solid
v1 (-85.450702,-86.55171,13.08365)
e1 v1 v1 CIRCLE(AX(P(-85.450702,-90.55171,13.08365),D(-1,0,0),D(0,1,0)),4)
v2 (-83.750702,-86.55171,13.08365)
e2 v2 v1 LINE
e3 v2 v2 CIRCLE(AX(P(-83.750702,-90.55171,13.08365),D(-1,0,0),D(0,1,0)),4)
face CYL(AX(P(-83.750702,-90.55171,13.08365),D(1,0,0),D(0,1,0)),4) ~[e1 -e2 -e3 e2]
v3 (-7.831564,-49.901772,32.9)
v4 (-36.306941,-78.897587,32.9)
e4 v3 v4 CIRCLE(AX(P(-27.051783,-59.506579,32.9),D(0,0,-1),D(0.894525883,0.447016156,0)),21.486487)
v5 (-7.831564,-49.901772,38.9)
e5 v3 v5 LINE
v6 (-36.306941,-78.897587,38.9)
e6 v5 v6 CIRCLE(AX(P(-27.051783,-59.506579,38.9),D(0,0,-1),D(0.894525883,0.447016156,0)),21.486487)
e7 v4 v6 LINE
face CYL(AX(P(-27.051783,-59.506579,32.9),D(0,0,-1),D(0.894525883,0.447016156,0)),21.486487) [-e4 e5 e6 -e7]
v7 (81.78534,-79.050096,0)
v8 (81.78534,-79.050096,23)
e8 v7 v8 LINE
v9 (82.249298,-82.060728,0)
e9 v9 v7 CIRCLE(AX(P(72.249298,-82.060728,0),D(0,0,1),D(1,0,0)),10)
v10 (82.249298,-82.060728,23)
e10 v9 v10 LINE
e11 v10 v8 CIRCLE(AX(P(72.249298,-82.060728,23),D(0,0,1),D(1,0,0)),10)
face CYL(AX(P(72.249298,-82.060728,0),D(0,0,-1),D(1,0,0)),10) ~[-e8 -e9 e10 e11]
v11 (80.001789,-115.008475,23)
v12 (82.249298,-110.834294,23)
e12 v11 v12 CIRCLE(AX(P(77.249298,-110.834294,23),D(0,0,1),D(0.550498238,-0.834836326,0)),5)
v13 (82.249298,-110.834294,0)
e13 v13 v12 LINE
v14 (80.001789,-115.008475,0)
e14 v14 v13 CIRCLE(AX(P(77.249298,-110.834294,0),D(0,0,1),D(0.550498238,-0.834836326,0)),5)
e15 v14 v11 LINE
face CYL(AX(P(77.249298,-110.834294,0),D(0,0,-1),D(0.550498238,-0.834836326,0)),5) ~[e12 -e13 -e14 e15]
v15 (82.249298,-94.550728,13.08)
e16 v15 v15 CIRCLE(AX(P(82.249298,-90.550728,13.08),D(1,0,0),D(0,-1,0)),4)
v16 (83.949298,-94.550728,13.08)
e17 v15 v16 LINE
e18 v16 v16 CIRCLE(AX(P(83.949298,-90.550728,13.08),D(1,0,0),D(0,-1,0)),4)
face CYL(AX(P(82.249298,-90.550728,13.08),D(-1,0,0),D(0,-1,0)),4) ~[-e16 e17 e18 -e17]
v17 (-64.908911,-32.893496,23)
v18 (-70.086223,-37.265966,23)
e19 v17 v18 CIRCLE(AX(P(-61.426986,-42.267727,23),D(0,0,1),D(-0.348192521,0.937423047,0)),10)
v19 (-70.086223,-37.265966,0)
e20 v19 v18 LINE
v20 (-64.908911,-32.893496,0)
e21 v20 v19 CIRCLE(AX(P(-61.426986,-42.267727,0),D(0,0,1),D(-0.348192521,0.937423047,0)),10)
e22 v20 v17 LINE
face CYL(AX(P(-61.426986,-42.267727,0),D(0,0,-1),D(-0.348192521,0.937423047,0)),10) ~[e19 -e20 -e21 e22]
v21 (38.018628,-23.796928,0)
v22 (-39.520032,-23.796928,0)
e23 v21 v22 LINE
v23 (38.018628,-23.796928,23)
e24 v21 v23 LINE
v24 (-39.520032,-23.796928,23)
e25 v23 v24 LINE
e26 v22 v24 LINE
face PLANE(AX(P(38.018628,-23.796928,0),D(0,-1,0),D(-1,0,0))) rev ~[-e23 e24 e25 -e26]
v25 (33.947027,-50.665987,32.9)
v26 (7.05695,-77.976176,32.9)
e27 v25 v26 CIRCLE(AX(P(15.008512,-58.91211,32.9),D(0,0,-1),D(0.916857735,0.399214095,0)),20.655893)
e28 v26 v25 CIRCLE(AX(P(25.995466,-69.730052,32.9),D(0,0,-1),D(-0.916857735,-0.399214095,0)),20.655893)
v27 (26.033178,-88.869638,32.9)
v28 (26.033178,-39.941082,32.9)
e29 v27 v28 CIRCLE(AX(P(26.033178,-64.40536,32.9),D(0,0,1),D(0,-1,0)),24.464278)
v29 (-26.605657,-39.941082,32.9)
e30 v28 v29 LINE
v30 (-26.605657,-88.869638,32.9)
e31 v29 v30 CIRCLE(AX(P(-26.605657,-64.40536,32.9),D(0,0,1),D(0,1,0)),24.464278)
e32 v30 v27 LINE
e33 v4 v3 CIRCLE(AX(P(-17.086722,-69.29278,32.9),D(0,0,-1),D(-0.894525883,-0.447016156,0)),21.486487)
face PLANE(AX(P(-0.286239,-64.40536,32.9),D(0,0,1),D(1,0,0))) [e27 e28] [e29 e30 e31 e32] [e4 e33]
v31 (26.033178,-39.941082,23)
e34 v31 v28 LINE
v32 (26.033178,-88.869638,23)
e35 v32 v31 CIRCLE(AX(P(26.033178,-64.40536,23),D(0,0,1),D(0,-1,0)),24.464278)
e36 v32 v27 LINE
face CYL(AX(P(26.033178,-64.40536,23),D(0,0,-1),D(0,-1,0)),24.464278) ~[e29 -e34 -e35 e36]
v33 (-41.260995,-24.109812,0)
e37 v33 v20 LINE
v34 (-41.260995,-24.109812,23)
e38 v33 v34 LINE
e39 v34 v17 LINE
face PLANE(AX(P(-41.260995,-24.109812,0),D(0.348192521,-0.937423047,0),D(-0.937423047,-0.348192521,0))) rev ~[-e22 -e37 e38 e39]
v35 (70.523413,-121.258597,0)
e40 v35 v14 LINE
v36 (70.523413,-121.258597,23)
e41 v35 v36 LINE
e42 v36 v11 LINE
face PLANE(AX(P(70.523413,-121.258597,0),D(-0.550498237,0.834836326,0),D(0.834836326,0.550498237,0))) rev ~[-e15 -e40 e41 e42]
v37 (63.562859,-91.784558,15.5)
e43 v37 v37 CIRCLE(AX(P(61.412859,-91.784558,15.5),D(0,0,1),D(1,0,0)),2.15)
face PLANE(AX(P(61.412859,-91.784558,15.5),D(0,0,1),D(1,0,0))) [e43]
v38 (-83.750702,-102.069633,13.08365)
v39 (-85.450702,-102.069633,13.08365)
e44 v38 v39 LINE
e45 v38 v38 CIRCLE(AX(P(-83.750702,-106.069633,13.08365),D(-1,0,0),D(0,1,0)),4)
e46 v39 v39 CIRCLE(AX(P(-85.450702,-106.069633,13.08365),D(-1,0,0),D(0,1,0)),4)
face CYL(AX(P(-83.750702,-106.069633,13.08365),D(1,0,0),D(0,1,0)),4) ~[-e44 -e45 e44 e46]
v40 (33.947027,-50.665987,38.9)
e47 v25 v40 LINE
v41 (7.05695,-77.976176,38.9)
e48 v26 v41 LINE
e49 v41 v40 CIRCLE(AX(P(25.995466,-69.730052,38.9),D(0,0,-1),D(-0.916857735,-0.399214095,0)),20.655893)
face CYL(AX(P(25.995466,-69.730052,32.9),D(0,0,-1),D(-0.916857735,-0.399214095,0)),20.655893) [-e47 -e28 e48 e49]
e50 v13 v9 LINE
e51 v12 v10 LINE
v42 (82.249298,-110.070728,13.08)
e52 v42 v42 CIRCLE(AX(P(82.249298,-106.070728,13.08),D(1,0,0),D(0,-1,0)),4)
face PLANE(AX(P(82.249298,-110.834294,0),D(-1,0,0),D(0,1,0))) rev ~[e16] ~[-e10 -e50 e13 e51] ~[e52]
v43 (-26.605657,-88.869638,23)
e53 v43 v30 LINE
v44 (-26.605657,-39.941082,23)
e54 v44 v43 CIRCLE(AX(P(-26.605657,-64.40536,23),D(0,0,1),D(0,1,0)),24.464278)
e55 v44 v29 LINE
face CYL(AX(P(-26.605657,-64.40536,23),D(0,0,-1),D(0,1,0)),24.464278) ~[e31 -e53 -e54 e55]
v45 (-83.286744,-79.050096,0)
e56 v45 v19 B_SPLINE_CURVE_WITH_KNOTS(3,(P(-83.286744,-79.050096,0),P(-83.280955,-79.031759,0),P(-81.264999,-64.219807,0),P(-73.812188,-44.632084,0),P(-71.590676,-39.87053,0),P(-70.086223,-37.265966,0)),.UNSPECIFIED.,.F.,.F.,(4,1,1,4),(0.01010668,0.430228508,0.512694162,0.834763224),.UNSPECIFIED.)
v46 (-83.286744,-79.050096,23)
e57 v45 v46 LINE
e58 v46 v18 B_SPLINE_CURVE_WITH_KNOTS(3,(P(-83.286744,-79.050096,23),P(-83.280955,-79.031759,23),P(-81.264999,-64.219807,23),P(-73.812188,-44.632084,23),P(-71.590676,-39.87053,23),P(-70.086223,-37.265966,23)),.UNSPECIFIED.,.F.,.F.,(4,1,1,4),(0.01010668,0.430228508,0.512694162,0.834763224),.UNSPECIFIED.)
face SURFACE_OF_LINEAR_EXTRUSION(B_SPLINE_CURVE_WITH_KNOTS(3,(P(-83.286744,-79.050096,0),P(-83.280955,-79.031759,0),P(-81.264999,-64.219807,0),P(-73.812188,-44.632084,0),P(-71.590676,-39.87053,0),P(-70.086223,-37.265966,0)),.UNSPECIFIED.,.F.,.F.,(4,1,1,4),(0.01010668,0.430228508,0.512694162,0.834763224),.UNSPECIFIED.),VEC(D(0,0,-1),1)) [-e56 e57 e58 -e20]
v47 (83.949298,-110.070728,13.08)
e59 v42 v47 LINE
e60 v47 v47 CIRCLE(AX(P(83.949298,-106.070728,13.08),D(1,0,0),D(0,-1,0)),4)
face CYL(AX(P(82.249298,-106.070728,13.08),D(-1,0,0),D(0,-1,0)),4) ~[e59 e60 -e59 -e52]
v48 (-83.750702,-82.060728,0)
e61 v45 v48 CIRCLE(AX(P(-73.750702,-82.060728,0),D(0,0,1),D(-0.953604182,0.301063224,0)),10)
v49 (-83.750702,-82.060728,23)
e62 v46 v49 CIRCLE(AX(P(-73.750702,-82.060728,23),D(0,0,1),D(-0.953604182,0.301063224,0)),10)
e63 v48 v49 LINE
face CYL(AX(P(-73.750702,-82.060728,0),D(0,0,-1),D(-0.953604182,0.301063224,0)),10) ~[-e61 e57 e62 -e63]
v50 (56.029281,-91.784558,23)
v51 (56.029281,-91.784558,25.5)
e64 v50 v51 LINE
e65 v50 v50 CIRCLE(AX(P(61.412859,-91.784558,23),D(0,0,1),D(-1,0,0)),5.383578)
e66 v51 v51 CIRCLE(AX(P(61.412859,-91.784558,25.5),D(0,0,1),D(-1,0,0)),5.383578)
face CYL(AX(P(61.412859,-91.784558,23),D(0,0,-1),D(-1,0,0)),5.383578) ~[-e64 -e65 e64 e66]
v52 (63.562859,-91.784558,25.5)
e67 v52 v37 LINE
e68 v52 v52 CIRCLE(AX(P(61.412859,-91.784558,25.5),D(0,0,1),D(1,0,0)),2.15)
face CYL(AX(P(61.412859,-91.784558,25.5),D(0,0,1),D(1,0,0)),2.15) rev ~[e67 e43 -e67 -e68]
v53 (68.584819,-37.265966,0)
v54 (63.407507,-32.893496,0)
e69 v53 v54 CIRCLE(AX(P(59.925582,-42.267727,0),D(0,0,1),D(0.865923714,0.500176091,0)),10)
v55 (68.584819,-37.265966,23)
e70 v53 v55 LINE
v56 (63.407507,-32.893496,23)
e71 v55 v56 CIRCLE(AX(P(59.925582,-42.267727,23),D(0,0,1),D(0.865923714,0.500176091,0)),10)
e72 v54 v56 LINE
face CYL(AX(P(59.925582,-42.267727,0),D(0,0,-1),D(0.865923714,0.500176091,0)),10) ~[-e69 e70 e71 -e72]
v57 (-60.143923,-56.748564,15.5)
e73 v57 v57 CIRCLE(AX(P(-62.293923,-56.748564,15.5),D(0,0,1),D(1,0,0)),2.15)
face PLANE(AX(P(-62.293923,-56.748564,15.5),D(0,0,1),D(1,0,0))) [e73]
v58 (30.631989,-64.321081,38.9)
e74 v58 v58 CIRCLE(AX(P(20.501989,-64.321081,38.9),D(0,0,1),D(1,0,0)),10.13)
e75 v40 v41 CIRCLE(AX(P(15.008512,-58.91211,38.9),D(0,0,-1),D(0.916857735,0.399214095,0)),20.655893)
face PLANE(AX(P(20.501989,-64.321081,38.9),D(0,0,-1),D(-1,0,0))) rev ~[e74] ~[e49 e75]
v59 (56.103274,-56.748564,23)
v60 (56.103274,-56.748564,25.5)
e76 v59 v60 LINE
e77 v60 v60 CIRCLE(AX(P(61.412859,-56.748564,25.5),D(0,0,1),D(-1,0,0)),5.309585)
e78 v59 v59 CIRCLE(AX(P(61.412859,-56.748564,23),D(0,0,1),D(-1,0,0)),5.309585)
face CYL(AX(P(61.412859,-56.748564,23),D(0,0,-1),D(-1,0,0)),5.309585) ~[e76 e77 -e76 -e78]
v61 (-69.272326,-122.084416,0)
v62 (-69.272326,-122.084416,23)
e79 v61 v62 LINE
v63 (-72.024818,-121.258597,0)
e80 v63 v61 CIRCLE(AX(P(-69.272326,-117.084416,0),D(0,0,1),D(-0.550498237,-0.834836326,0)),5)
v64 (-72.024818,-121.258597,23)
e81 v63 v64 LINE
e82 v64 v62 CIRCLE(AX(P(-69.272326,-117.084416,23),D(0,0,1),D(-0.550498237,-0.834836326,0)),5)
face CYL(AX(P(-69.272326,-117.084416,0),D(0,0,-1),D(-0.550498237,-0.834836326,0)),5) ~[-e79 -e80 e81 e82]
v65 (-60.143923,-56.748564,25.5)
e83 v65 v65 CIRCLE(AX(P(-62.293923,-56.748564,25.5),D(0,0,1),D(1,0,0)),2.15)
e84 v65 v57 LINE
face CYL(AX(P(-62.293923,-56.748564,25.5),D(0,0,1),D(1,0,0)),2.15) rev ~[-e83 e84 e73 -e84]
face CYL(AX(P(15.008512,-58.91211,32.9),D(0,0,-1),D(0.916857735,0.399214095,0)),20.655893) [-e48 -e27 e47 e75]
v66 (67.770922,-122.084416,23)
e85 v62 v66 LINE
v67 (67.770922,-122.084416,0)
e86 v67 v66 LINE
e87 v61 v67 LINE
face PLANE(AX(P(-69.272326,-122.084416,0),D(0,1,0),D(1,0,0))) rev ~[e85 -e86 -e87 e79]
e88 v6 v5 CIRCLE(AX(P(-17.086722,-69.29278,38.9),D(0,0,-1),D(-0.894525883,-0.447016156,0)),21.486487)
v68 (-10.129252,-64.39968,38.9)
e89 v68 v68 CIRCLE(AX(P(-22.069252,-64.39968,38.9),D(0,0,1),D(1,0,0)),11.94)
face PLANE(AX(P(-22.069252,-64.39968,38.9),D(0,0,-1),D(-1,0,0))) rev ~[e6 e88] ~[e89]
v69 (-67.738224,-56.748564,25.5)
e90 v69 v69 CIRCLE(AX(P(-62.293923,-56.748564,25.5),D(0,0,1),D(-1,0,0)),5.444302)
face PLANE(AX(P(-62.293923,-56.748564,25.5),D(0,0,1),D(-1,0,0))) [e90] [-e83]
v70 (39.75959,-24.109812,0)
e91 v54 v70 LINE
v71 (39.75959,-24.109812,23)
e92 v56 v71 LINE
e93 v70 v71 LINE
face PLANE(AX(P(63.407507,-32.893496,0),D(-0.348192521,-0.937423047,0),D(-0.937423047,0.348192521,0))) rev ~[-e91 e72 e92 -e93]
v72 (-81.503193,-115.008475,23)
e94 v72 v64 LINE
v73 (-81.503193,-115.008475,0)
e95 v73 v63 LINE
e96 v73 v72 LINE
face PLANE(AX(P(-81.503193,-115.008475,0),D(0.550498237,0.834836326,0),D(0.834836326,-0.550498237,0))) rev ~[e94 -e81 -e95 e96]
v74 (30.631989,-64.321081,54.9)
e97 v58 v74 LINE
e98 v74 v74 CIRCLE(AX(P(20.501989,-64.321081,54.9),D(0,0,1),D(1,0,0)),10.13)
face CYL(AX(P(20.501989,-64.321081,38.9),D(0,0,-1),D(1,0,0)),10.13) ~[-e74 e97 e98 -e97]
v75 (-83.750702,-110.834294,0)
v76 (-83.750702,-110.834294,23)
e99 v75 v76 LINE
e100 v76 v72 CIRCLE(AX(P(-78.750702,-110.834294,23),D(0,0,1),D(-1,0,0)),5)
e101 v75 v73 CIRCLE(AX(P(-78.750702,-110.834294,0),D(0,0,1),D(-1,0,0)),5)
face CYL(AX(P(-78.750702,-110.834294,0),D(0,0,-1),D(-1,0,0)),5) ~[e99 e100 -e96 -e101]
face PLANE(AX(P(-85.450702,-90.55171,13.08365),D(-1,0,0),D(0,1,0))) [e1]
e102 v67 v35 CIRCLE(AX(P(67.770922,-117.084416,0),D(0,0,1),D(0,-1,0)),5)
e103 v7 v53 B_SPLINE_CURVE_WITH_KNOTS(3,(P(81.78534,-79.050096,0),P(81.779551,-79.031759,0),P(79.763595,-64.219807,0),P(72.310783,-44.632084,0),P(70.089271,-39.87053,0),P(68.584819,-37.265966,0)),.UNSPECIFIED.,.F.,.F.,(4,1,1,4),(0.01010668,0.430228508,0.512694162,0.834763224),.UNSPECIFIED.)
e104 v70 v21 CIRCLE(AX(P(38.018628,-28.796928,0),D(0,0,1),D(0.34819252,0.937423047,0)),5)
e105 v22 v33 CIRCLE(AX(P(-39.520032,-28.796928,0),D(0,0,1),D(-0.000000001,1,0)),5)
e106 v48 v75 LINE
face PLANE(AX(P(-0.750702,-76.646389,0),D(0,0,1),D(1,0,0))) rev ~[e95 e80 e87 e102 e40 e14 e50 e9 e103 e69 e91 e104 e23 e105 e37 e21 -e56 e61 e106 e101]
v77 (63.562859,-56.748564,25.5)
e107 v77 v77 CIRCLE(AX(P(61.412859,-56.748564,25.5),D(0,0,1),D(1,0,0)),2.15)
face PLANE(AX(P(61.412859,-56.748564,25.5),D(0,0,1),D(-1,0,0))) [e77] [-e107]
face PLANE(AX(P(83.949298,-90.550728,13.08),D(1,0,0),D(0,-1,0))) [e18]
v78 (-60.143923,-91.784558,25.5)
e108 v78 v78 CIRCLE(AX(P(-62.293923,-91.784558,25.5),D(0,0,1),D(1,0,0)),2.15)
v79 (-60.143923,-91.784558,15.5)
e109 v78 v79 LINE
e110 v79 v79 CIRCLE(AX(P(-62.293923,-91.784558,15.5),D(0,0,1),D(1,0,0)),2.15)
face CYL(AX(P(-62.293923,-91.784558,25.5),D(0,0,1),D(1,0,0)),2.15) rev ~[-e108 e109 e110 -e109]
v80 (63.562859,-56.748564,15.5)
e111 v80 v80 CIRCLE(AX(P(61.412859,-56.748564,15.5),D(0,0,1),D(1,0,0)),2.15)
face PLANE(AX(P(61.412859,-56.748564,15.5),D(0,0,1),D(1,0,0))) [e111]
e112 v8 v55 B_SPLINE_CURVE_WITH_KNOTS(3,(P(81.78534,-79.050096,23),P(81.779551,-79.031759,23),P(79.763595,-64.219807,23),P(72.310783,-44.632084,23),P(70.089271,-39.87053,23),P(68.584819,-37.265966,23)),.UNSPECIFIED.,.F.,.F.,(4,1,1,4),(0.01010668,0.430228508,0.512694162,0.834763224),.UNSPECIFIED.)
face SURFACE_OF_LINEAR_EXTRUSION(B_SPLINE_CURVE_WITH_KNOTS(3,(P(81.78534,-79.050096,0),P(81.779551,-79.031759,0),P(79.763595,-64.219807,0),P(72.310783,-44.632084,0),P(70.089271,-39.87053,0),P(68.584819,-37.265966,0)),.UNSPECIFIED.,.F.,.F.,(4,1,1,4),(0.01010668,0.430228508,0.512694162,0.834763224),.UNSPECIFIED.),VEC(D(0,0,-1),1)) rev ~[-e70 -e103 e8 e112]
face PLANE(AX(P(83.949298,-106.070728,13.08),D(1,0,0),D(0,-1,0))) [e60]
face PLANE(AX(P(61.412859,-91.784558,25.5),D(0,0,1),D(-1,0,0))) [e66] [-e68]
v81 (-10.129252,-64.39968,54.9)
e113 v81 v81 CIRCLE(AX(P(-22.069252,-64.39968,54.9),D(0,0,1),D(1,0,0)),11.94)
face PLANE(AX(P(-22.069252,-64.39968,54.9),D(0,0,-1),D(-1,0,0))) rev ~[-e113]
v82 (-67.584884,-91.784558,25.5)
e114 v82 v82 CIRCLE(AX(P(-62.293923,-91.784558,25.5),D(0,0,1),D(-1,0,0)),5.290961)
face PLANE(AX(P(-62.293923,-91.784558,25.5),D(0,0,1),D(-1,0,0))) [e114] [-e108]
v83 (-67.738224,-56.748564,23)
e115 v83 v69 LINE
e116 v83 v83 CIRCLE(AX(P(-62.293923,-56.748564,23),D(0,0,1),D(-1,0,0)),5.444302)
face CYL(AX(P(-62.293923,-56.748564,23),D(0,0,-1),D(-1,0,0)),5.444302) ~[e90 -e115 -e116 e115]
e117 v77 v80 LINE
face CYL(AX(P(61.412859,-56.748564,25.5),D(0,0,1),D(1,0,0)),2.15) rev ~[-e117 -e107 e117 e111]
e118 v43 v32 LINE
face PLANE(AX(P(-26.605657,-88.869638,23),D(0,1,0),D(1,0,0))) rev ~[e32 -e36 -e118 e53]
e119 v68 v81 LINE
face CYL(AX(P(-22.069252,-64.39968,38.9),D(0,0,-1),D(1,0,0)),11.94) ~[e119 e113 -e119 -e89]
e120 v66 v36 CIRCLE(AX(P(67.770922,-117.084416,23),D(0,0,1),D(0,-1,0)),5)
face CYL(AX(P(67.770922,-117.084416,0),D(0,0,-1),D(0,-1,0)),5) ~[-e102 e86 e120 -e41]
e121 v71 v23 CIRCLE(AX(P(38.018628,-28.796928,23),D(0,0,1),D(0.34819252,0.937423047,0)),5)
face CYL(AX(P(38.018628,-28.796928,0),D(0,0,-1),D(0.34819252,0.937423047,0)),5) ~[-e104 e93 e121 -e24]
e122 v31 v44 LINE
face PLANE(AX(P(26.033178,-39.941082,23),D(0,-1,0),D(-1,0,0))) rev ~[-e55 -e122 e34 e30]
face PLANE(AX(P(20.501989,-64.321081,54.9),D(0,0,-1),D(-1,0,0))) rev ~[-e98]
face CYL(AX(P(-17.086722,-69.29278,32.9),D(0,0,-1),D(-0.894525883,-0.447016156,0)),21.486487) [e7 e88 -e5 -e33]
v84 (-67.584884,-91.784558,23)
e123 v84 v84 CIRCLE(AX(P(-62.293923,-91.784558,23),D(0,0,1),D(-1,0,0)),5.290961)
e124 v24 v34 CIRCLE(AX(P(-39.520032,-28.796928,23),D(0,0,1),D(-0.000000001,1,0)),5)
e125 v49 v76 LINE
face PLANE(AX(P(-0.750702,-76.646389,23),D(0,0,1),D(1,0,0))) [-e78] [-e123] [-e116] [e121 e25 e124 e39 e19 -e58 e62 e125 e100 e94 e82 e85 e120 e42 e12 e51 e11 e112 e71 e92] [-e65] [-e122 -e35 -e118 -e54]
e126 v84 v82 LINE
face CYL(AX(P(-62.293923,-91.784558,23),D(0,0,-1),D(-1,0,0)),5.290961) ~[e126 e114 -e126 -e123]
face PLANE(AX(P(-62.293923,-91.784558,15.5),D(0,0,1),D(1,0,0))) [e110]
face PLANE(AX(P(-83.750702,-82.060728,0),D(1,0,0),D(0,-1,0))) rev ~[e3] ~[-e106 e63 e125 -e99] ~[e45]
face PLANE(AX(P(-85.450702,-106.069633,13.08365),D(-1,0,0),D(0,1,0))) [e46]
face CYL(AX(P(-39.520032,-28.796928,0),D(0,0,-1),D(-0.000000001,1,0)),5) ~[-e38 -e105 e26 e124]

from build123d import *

# Parameters (mm, degrees)
BOSS_EXTRUDE1_DEPTH = 23
SKETCH5_R           = 4
BOSS_EXTRUDE3_DEPTH = 1.7
SKETCH8_R           = 4
BOSS_EXTRUDE4_DEPTH = 1.7
SKETCH12_R          = 5.309585237
SKETCH12_R_2        = 5.383577716
SKETCH12_R_3        = 5.290961271
SKETCH12_R_4        = 5.444301549
BOSS_EXTRUDE5_DEPTH = 9.9
BOSS_EXTRUDE6_DEPTH = 22
CUT_EXTRUDE1_START  = -16
SKETCH16_R          = 11.94
CUT_EXTRUDE1_DEPTH  = 16
CUT_EXTRUDE2_START  = -16
SKETCH17_R          = 10.13
CUT_EXTRUDE2_DEPTH  = 16
CUT_EXTRUDE3_START  = -7.4
SKETCH18_R          = 5.309585237
CUT_EXTRUDE3_DEPTH  = 7.4
CUT_EXTRUDE4_START  = -7.4
SKETCH19_R          = 5.383577716
CUT_EXTRUDE4_DEPTH  = 7.4
CUT_EXTRUDE5_START  = -7.4
SKETCH20_R          = 5.444301549
CUT_EXTRUDE5_DEPTH  = 7.4
CUT_EXTRUDE6_START  = -7.4
SKETCH21_R          = 5.290961271
CUT_EXTRUDE6_DEPTH  = 7.4
SKETCH22_R          = 2.15
CUT_EXTRUDE7_DEPTH  = 10


with BuildPart() as part:
    # Sketch2 → Boss-Extrude1 (new body)
    with BuildSketch(Plane.XY):
        with BuildLine():
            Line((70.523413182, -121.258597495), (80.001788964, -115.008475165))
            ThreePointArc((80.001788964, -115.008475165), (81.651709385, -113.204688447), (82.249297777, -110.834293536))
            Line((82.249297777, -110.834293536), (82.249297777, -82.060728072))
            ThreePointArc((82.249297777, -82.060728072), (82.132627635, -80.537642087), (81.785339594, -79.050095835))
            add(Edge.make_bspline(
                [(81.785339594, -79.050095835), (81.779550585, -79.03175941), (79.763594577, -64.21980724), (72.310783114, -44.632084365), (70.089271073, -39.87053002), (68.584818962, -37.26596578)],
                knots=[0.01010668, 0.01010668, 0.01010668, 0.01010668, 0.430228508, 0.512694162, 0.834763224, 0.834763224, 0.834763224, 0.834763224], degree=3))
            ThreePointArc((68.584818962, -37.26596578), (66.377835563, -34.627803803), (63.407507036, -32.893496223))
            Line((63.407507036, -32.893496223), (39.759590264, -24.109812278))
            ThreePointArc((39.759590264, -24.109812278), (38.90305511, -23.875770322), (38.018627658, -23.796927511))
            Line((38.018627658, -23.796927511), (-39.520032104, -23.796927511))
            ThreePointArc((-39.520032104, -23.796927511), (-40.404459556, -23.875770322), (-41.26099471, -24.109812278))
            Line((-41.26099471, -24.109812278), (-64.908911482, -32.893496223))
            ThreePointArc((-64.908911482, -32.893496223), (-67.879240009, -34.627803803), (-70.086223408, -37.26596578))
            add(Edge.make_bspline(
                [(-83.28674404, -79.050095835), (-83.280955031, -79.03175941), (-81.264999023, -64.21980724), (-73.81218756, -44.632084365), (-71.590675519, -39.87053002), (-70.086223408, -37.26596578)],
                knots=[0.01010668, 0.01010668, 0.01010668, 0.01010668, 0.430228508, 0.512694162, 0.834763224, 0.834763224, 0.834763224, 0.834763224], degree=3))
            ThreePointArc((-83.28674404, -79.050095835), (-83.634032081, -80.537642087), (-83.750702223, -82.060728072))
            Line((-83.750702223, -82.060728072), (-83.750702223, -110.834293536))
            ThreePointArc((-83.750702223, -110.834293536), (-83.153113831, -113.204688447), (-81.50319341, -115.008475165))
            Line((-81.50319341, -115.008475165), (-72.024817629, -121.258597495))
            ThreePointArc((-72.024817629, -121.258597495), (-70.709179228, -121.873513284), (-69.272326442, -122.084415867))
            Line((-69.272326442, -122.084415867), (67.770921996, -122.084415867))
            ThreePointArc((67.770921996, -122.084415867), (69.207774782, -121.873513284), (70.523413182, -121.258597495))
        make_face()
    extrude(amount=BOSS_EXTRUDE1_DEPTH)

    # Sketch5 → Boss-Extrude3 (add)
    with BuildSketch(Plane.ZY.offset(83.750702223)):
        with Locations(Location((13.083649818, -90.551709518, 0), (0, 0, 90))):
            Circle(SKETCH5_R)
        with Locations(Location((13.083649818, -106.069633318, 0), (0, 0, 90))):
            Circle(SKETCH5_R)
    extrude(amount=BOSS_EXTRUDE3_DEPTH)

    # Sketch8 → Boss-Extrude4 (add)
    with BuildSketch(Plane(origin=(82.249297777, 0, 0), x_dir=(0, 0, -1), z_dir=(1, 0, 0))):
        with Locations(Location((-13.08, -90.550728072, 0), (0, 0, 270))):
            Circle(SKETCH8_R)
        with Locations(Location((-13.08, -106.070728072, 0), (0, 0, 270))):
            Circle(SKETCH8_R)
    extrude(amount=BOSS_EXTRUDE4_DEPTH)

    # Sketch12 → Boss-Extrude5 (add)
    with BuildSketch(Plane.XY.offset(23)):
        with Locations(Location((61.412858859, -56.74856372, 0), (0, 0, 180))):
            Circle(SKETCH12_R)
        with Locations(Location((61.412858859, -91.784557501, 0), (0, 0, 180))):
            Circle(SKETCH12_R_2)
        with Locations(Location((-62.293922582, -91.784557501, 0), (0, 0, 180))):
            Circle(SKETCH12_R_3)
        with Locations(Location((-62.293922582, -56.74856372, 0), (0, 0, 180))):
            Circle(SKETCH12_R_4)
        with BuildLine():
            Line((26.03317791, -39.941081705), (-26.605656617, -39.941081705))
            ThreePointArc((-26.605656617, -39.941081705), (-51.069934746, -64.405359834), (-26.605656617, -88.869637962))
            Line((-26.605656617, -88.869637962), (26.03317791, -88.869637962))
            ThreePointArc((26.03317791, -88.869637962), (50.497456038, -64.405359834), (26.03317791, -39.941081705))
        make_face()
    extrude(amount=BOSS_EXTRUDE5_DEPTH)

    # Sketch15 → Boss-Extrude6 (add)
    with BuildSketch(Plane.XY.offset(32.9)):
        with BuildLine():
            ThreePointArc((-36.30694092, -78.897586955), (-32.416918561, -54.237740907), (-7.831564022, -49.901772358))
            ThreePointArc((-7.831564022, -49.901772358), (-11.721586381, -74.561618406), (-36.30694092, -78.897586955))
        make_face()
        with BuildLine():
            ThreePointArc((33.947027157, -50.665986501), (29.727203797, -73.404384895), (7.056950152, -77.976175614))
            ThreePointArc((7.056950152, -77.976175614), (11.276773512, -55.23777722), (33.947027157, -50.665986501))
        make_face()
    extrude(amount=BOSS_EXTRUDE6_DEPTH)

    # Sketch16 → Cut-Extrude1 (cut)
    with BuildSketch(Plane.XY.offset(54.9).offset(CUT_EXTRUDE1_START)):
        with BuildLine():
            ThreePointArc((-36.30694092, -78.897586955), (-32.416918561, -54.237740907), (-7.831564022, -49.901772358))
            ThreePointArc((-7.831564022, -49.901772358), (-11.721586381, -74.561618406), (-36.30694092, -78.897586955))
        make_face()
        with Locations((-22.069252471, -64.399679657)):
            Circle(SKETCH16_R, mode=Mode.SUBTRACT)
    extrude(amount=CUT_EXTRUDE1_DEPTH, mode=Mode.SUBTRACT)

    # Sketch17 → Cut-Extrude2 (cut)
    with BuildSketch(Plane.XY.offset(54.9).offset(CUT_EXTRUDE2_START)):
        with BuildLine():
            ThreePointArc((7.056950152, -77.976175614), (11.276773512, -55.23777722), (33.947027157, -50.665986501))
            ThreePointArc((33.947027157, -50.665986501), (29.727203797, -73.404384895), (7.056950152, -77.976175614))
        make_face()
        with Locations((20.501988655, -64.321081058)):
            Circle(SKETCH17_R, mode=Mode.SUBTRACT)
    extrude(amount=CUT_EXTRUDE2_DEPTH, mode=Mode.SUBTRACT)

    # Sketch18 → Cut-Extrude3 (cut)
    with BuildSketch(Plane.XY.offset(32.9).offset(CUT_EXTRUDE3_START)):
        with Locations(Location((61.412858859, -56.74856372, 0), (0, 0, 180))):
            Circle(SKETCH18_R)
    extrude(amount=CUT_EXTRUDE3_DEPTH, mode=Mode.SUBTRACT)

    # Sketch19 → Cut-Extrude4 (cut)
    with BuildSketch(Plane.XY.offset(32.9).offset(CUT_EXTRUDE4_START)):
        with Locations(Location((61.412858859, -91.784557501, 0), (0, 0, 180))):
            Circle(SKETCH19_R)
    extrude(amount=CUT_EXTRUDE4_DEPTH, mode=Mode.SUBTRACT)

    # Sketch20 → Cut-Extrude5 (cut)
    with BuildSketch(Plane.XY.offset(32.9).offset(CUT_EXTRUDE5_START)):
        with Locations(Location((-62.293922582, -56.74856372, 0), (0, 0, 180))):
            Circle(SKETCH20_R)
    extrude(amount=CUT_EXTRUDE5_DEPTH, mode=Mode.SUBTRACT)

    # Sketch21 → Cut-Extrude6 (cut)
    with BuildSketch(Plane.XY.offset(32.9).offset(CUT_EXTRUDE6_START)):
        with Locations(Location((-62.293922582, -91.784557501, 0), (0, 0, 180))):
            Circle(SKETCH21_R)
    extrude(amount=CUT_EXTRUDE6_DEPTH, mode=Mode.SUBTRACT)

    # Sketch22 → Cut-Extrude7 (cut)
    with BuildSketch(Plane.XY.offset(25.5)):
        with Locations((-62.293922582, -56.74856372)):
            Circle(SKETCH22_R)
        with Locations((-62.293922582, -91.784557501)):
            Circle(SKETCH22_R)
        with Locations((61.412858859, -91.784557501)):
            Circle(SKETCH22_R)
        with Locations((61.412858859, -56.74856372)):
            Circle(SKETCH22_R)
    extrude(amount=-CUT_EXTRUDE7_DEPTH, mode=Mode.SUBTRACT)


solid = part.part
